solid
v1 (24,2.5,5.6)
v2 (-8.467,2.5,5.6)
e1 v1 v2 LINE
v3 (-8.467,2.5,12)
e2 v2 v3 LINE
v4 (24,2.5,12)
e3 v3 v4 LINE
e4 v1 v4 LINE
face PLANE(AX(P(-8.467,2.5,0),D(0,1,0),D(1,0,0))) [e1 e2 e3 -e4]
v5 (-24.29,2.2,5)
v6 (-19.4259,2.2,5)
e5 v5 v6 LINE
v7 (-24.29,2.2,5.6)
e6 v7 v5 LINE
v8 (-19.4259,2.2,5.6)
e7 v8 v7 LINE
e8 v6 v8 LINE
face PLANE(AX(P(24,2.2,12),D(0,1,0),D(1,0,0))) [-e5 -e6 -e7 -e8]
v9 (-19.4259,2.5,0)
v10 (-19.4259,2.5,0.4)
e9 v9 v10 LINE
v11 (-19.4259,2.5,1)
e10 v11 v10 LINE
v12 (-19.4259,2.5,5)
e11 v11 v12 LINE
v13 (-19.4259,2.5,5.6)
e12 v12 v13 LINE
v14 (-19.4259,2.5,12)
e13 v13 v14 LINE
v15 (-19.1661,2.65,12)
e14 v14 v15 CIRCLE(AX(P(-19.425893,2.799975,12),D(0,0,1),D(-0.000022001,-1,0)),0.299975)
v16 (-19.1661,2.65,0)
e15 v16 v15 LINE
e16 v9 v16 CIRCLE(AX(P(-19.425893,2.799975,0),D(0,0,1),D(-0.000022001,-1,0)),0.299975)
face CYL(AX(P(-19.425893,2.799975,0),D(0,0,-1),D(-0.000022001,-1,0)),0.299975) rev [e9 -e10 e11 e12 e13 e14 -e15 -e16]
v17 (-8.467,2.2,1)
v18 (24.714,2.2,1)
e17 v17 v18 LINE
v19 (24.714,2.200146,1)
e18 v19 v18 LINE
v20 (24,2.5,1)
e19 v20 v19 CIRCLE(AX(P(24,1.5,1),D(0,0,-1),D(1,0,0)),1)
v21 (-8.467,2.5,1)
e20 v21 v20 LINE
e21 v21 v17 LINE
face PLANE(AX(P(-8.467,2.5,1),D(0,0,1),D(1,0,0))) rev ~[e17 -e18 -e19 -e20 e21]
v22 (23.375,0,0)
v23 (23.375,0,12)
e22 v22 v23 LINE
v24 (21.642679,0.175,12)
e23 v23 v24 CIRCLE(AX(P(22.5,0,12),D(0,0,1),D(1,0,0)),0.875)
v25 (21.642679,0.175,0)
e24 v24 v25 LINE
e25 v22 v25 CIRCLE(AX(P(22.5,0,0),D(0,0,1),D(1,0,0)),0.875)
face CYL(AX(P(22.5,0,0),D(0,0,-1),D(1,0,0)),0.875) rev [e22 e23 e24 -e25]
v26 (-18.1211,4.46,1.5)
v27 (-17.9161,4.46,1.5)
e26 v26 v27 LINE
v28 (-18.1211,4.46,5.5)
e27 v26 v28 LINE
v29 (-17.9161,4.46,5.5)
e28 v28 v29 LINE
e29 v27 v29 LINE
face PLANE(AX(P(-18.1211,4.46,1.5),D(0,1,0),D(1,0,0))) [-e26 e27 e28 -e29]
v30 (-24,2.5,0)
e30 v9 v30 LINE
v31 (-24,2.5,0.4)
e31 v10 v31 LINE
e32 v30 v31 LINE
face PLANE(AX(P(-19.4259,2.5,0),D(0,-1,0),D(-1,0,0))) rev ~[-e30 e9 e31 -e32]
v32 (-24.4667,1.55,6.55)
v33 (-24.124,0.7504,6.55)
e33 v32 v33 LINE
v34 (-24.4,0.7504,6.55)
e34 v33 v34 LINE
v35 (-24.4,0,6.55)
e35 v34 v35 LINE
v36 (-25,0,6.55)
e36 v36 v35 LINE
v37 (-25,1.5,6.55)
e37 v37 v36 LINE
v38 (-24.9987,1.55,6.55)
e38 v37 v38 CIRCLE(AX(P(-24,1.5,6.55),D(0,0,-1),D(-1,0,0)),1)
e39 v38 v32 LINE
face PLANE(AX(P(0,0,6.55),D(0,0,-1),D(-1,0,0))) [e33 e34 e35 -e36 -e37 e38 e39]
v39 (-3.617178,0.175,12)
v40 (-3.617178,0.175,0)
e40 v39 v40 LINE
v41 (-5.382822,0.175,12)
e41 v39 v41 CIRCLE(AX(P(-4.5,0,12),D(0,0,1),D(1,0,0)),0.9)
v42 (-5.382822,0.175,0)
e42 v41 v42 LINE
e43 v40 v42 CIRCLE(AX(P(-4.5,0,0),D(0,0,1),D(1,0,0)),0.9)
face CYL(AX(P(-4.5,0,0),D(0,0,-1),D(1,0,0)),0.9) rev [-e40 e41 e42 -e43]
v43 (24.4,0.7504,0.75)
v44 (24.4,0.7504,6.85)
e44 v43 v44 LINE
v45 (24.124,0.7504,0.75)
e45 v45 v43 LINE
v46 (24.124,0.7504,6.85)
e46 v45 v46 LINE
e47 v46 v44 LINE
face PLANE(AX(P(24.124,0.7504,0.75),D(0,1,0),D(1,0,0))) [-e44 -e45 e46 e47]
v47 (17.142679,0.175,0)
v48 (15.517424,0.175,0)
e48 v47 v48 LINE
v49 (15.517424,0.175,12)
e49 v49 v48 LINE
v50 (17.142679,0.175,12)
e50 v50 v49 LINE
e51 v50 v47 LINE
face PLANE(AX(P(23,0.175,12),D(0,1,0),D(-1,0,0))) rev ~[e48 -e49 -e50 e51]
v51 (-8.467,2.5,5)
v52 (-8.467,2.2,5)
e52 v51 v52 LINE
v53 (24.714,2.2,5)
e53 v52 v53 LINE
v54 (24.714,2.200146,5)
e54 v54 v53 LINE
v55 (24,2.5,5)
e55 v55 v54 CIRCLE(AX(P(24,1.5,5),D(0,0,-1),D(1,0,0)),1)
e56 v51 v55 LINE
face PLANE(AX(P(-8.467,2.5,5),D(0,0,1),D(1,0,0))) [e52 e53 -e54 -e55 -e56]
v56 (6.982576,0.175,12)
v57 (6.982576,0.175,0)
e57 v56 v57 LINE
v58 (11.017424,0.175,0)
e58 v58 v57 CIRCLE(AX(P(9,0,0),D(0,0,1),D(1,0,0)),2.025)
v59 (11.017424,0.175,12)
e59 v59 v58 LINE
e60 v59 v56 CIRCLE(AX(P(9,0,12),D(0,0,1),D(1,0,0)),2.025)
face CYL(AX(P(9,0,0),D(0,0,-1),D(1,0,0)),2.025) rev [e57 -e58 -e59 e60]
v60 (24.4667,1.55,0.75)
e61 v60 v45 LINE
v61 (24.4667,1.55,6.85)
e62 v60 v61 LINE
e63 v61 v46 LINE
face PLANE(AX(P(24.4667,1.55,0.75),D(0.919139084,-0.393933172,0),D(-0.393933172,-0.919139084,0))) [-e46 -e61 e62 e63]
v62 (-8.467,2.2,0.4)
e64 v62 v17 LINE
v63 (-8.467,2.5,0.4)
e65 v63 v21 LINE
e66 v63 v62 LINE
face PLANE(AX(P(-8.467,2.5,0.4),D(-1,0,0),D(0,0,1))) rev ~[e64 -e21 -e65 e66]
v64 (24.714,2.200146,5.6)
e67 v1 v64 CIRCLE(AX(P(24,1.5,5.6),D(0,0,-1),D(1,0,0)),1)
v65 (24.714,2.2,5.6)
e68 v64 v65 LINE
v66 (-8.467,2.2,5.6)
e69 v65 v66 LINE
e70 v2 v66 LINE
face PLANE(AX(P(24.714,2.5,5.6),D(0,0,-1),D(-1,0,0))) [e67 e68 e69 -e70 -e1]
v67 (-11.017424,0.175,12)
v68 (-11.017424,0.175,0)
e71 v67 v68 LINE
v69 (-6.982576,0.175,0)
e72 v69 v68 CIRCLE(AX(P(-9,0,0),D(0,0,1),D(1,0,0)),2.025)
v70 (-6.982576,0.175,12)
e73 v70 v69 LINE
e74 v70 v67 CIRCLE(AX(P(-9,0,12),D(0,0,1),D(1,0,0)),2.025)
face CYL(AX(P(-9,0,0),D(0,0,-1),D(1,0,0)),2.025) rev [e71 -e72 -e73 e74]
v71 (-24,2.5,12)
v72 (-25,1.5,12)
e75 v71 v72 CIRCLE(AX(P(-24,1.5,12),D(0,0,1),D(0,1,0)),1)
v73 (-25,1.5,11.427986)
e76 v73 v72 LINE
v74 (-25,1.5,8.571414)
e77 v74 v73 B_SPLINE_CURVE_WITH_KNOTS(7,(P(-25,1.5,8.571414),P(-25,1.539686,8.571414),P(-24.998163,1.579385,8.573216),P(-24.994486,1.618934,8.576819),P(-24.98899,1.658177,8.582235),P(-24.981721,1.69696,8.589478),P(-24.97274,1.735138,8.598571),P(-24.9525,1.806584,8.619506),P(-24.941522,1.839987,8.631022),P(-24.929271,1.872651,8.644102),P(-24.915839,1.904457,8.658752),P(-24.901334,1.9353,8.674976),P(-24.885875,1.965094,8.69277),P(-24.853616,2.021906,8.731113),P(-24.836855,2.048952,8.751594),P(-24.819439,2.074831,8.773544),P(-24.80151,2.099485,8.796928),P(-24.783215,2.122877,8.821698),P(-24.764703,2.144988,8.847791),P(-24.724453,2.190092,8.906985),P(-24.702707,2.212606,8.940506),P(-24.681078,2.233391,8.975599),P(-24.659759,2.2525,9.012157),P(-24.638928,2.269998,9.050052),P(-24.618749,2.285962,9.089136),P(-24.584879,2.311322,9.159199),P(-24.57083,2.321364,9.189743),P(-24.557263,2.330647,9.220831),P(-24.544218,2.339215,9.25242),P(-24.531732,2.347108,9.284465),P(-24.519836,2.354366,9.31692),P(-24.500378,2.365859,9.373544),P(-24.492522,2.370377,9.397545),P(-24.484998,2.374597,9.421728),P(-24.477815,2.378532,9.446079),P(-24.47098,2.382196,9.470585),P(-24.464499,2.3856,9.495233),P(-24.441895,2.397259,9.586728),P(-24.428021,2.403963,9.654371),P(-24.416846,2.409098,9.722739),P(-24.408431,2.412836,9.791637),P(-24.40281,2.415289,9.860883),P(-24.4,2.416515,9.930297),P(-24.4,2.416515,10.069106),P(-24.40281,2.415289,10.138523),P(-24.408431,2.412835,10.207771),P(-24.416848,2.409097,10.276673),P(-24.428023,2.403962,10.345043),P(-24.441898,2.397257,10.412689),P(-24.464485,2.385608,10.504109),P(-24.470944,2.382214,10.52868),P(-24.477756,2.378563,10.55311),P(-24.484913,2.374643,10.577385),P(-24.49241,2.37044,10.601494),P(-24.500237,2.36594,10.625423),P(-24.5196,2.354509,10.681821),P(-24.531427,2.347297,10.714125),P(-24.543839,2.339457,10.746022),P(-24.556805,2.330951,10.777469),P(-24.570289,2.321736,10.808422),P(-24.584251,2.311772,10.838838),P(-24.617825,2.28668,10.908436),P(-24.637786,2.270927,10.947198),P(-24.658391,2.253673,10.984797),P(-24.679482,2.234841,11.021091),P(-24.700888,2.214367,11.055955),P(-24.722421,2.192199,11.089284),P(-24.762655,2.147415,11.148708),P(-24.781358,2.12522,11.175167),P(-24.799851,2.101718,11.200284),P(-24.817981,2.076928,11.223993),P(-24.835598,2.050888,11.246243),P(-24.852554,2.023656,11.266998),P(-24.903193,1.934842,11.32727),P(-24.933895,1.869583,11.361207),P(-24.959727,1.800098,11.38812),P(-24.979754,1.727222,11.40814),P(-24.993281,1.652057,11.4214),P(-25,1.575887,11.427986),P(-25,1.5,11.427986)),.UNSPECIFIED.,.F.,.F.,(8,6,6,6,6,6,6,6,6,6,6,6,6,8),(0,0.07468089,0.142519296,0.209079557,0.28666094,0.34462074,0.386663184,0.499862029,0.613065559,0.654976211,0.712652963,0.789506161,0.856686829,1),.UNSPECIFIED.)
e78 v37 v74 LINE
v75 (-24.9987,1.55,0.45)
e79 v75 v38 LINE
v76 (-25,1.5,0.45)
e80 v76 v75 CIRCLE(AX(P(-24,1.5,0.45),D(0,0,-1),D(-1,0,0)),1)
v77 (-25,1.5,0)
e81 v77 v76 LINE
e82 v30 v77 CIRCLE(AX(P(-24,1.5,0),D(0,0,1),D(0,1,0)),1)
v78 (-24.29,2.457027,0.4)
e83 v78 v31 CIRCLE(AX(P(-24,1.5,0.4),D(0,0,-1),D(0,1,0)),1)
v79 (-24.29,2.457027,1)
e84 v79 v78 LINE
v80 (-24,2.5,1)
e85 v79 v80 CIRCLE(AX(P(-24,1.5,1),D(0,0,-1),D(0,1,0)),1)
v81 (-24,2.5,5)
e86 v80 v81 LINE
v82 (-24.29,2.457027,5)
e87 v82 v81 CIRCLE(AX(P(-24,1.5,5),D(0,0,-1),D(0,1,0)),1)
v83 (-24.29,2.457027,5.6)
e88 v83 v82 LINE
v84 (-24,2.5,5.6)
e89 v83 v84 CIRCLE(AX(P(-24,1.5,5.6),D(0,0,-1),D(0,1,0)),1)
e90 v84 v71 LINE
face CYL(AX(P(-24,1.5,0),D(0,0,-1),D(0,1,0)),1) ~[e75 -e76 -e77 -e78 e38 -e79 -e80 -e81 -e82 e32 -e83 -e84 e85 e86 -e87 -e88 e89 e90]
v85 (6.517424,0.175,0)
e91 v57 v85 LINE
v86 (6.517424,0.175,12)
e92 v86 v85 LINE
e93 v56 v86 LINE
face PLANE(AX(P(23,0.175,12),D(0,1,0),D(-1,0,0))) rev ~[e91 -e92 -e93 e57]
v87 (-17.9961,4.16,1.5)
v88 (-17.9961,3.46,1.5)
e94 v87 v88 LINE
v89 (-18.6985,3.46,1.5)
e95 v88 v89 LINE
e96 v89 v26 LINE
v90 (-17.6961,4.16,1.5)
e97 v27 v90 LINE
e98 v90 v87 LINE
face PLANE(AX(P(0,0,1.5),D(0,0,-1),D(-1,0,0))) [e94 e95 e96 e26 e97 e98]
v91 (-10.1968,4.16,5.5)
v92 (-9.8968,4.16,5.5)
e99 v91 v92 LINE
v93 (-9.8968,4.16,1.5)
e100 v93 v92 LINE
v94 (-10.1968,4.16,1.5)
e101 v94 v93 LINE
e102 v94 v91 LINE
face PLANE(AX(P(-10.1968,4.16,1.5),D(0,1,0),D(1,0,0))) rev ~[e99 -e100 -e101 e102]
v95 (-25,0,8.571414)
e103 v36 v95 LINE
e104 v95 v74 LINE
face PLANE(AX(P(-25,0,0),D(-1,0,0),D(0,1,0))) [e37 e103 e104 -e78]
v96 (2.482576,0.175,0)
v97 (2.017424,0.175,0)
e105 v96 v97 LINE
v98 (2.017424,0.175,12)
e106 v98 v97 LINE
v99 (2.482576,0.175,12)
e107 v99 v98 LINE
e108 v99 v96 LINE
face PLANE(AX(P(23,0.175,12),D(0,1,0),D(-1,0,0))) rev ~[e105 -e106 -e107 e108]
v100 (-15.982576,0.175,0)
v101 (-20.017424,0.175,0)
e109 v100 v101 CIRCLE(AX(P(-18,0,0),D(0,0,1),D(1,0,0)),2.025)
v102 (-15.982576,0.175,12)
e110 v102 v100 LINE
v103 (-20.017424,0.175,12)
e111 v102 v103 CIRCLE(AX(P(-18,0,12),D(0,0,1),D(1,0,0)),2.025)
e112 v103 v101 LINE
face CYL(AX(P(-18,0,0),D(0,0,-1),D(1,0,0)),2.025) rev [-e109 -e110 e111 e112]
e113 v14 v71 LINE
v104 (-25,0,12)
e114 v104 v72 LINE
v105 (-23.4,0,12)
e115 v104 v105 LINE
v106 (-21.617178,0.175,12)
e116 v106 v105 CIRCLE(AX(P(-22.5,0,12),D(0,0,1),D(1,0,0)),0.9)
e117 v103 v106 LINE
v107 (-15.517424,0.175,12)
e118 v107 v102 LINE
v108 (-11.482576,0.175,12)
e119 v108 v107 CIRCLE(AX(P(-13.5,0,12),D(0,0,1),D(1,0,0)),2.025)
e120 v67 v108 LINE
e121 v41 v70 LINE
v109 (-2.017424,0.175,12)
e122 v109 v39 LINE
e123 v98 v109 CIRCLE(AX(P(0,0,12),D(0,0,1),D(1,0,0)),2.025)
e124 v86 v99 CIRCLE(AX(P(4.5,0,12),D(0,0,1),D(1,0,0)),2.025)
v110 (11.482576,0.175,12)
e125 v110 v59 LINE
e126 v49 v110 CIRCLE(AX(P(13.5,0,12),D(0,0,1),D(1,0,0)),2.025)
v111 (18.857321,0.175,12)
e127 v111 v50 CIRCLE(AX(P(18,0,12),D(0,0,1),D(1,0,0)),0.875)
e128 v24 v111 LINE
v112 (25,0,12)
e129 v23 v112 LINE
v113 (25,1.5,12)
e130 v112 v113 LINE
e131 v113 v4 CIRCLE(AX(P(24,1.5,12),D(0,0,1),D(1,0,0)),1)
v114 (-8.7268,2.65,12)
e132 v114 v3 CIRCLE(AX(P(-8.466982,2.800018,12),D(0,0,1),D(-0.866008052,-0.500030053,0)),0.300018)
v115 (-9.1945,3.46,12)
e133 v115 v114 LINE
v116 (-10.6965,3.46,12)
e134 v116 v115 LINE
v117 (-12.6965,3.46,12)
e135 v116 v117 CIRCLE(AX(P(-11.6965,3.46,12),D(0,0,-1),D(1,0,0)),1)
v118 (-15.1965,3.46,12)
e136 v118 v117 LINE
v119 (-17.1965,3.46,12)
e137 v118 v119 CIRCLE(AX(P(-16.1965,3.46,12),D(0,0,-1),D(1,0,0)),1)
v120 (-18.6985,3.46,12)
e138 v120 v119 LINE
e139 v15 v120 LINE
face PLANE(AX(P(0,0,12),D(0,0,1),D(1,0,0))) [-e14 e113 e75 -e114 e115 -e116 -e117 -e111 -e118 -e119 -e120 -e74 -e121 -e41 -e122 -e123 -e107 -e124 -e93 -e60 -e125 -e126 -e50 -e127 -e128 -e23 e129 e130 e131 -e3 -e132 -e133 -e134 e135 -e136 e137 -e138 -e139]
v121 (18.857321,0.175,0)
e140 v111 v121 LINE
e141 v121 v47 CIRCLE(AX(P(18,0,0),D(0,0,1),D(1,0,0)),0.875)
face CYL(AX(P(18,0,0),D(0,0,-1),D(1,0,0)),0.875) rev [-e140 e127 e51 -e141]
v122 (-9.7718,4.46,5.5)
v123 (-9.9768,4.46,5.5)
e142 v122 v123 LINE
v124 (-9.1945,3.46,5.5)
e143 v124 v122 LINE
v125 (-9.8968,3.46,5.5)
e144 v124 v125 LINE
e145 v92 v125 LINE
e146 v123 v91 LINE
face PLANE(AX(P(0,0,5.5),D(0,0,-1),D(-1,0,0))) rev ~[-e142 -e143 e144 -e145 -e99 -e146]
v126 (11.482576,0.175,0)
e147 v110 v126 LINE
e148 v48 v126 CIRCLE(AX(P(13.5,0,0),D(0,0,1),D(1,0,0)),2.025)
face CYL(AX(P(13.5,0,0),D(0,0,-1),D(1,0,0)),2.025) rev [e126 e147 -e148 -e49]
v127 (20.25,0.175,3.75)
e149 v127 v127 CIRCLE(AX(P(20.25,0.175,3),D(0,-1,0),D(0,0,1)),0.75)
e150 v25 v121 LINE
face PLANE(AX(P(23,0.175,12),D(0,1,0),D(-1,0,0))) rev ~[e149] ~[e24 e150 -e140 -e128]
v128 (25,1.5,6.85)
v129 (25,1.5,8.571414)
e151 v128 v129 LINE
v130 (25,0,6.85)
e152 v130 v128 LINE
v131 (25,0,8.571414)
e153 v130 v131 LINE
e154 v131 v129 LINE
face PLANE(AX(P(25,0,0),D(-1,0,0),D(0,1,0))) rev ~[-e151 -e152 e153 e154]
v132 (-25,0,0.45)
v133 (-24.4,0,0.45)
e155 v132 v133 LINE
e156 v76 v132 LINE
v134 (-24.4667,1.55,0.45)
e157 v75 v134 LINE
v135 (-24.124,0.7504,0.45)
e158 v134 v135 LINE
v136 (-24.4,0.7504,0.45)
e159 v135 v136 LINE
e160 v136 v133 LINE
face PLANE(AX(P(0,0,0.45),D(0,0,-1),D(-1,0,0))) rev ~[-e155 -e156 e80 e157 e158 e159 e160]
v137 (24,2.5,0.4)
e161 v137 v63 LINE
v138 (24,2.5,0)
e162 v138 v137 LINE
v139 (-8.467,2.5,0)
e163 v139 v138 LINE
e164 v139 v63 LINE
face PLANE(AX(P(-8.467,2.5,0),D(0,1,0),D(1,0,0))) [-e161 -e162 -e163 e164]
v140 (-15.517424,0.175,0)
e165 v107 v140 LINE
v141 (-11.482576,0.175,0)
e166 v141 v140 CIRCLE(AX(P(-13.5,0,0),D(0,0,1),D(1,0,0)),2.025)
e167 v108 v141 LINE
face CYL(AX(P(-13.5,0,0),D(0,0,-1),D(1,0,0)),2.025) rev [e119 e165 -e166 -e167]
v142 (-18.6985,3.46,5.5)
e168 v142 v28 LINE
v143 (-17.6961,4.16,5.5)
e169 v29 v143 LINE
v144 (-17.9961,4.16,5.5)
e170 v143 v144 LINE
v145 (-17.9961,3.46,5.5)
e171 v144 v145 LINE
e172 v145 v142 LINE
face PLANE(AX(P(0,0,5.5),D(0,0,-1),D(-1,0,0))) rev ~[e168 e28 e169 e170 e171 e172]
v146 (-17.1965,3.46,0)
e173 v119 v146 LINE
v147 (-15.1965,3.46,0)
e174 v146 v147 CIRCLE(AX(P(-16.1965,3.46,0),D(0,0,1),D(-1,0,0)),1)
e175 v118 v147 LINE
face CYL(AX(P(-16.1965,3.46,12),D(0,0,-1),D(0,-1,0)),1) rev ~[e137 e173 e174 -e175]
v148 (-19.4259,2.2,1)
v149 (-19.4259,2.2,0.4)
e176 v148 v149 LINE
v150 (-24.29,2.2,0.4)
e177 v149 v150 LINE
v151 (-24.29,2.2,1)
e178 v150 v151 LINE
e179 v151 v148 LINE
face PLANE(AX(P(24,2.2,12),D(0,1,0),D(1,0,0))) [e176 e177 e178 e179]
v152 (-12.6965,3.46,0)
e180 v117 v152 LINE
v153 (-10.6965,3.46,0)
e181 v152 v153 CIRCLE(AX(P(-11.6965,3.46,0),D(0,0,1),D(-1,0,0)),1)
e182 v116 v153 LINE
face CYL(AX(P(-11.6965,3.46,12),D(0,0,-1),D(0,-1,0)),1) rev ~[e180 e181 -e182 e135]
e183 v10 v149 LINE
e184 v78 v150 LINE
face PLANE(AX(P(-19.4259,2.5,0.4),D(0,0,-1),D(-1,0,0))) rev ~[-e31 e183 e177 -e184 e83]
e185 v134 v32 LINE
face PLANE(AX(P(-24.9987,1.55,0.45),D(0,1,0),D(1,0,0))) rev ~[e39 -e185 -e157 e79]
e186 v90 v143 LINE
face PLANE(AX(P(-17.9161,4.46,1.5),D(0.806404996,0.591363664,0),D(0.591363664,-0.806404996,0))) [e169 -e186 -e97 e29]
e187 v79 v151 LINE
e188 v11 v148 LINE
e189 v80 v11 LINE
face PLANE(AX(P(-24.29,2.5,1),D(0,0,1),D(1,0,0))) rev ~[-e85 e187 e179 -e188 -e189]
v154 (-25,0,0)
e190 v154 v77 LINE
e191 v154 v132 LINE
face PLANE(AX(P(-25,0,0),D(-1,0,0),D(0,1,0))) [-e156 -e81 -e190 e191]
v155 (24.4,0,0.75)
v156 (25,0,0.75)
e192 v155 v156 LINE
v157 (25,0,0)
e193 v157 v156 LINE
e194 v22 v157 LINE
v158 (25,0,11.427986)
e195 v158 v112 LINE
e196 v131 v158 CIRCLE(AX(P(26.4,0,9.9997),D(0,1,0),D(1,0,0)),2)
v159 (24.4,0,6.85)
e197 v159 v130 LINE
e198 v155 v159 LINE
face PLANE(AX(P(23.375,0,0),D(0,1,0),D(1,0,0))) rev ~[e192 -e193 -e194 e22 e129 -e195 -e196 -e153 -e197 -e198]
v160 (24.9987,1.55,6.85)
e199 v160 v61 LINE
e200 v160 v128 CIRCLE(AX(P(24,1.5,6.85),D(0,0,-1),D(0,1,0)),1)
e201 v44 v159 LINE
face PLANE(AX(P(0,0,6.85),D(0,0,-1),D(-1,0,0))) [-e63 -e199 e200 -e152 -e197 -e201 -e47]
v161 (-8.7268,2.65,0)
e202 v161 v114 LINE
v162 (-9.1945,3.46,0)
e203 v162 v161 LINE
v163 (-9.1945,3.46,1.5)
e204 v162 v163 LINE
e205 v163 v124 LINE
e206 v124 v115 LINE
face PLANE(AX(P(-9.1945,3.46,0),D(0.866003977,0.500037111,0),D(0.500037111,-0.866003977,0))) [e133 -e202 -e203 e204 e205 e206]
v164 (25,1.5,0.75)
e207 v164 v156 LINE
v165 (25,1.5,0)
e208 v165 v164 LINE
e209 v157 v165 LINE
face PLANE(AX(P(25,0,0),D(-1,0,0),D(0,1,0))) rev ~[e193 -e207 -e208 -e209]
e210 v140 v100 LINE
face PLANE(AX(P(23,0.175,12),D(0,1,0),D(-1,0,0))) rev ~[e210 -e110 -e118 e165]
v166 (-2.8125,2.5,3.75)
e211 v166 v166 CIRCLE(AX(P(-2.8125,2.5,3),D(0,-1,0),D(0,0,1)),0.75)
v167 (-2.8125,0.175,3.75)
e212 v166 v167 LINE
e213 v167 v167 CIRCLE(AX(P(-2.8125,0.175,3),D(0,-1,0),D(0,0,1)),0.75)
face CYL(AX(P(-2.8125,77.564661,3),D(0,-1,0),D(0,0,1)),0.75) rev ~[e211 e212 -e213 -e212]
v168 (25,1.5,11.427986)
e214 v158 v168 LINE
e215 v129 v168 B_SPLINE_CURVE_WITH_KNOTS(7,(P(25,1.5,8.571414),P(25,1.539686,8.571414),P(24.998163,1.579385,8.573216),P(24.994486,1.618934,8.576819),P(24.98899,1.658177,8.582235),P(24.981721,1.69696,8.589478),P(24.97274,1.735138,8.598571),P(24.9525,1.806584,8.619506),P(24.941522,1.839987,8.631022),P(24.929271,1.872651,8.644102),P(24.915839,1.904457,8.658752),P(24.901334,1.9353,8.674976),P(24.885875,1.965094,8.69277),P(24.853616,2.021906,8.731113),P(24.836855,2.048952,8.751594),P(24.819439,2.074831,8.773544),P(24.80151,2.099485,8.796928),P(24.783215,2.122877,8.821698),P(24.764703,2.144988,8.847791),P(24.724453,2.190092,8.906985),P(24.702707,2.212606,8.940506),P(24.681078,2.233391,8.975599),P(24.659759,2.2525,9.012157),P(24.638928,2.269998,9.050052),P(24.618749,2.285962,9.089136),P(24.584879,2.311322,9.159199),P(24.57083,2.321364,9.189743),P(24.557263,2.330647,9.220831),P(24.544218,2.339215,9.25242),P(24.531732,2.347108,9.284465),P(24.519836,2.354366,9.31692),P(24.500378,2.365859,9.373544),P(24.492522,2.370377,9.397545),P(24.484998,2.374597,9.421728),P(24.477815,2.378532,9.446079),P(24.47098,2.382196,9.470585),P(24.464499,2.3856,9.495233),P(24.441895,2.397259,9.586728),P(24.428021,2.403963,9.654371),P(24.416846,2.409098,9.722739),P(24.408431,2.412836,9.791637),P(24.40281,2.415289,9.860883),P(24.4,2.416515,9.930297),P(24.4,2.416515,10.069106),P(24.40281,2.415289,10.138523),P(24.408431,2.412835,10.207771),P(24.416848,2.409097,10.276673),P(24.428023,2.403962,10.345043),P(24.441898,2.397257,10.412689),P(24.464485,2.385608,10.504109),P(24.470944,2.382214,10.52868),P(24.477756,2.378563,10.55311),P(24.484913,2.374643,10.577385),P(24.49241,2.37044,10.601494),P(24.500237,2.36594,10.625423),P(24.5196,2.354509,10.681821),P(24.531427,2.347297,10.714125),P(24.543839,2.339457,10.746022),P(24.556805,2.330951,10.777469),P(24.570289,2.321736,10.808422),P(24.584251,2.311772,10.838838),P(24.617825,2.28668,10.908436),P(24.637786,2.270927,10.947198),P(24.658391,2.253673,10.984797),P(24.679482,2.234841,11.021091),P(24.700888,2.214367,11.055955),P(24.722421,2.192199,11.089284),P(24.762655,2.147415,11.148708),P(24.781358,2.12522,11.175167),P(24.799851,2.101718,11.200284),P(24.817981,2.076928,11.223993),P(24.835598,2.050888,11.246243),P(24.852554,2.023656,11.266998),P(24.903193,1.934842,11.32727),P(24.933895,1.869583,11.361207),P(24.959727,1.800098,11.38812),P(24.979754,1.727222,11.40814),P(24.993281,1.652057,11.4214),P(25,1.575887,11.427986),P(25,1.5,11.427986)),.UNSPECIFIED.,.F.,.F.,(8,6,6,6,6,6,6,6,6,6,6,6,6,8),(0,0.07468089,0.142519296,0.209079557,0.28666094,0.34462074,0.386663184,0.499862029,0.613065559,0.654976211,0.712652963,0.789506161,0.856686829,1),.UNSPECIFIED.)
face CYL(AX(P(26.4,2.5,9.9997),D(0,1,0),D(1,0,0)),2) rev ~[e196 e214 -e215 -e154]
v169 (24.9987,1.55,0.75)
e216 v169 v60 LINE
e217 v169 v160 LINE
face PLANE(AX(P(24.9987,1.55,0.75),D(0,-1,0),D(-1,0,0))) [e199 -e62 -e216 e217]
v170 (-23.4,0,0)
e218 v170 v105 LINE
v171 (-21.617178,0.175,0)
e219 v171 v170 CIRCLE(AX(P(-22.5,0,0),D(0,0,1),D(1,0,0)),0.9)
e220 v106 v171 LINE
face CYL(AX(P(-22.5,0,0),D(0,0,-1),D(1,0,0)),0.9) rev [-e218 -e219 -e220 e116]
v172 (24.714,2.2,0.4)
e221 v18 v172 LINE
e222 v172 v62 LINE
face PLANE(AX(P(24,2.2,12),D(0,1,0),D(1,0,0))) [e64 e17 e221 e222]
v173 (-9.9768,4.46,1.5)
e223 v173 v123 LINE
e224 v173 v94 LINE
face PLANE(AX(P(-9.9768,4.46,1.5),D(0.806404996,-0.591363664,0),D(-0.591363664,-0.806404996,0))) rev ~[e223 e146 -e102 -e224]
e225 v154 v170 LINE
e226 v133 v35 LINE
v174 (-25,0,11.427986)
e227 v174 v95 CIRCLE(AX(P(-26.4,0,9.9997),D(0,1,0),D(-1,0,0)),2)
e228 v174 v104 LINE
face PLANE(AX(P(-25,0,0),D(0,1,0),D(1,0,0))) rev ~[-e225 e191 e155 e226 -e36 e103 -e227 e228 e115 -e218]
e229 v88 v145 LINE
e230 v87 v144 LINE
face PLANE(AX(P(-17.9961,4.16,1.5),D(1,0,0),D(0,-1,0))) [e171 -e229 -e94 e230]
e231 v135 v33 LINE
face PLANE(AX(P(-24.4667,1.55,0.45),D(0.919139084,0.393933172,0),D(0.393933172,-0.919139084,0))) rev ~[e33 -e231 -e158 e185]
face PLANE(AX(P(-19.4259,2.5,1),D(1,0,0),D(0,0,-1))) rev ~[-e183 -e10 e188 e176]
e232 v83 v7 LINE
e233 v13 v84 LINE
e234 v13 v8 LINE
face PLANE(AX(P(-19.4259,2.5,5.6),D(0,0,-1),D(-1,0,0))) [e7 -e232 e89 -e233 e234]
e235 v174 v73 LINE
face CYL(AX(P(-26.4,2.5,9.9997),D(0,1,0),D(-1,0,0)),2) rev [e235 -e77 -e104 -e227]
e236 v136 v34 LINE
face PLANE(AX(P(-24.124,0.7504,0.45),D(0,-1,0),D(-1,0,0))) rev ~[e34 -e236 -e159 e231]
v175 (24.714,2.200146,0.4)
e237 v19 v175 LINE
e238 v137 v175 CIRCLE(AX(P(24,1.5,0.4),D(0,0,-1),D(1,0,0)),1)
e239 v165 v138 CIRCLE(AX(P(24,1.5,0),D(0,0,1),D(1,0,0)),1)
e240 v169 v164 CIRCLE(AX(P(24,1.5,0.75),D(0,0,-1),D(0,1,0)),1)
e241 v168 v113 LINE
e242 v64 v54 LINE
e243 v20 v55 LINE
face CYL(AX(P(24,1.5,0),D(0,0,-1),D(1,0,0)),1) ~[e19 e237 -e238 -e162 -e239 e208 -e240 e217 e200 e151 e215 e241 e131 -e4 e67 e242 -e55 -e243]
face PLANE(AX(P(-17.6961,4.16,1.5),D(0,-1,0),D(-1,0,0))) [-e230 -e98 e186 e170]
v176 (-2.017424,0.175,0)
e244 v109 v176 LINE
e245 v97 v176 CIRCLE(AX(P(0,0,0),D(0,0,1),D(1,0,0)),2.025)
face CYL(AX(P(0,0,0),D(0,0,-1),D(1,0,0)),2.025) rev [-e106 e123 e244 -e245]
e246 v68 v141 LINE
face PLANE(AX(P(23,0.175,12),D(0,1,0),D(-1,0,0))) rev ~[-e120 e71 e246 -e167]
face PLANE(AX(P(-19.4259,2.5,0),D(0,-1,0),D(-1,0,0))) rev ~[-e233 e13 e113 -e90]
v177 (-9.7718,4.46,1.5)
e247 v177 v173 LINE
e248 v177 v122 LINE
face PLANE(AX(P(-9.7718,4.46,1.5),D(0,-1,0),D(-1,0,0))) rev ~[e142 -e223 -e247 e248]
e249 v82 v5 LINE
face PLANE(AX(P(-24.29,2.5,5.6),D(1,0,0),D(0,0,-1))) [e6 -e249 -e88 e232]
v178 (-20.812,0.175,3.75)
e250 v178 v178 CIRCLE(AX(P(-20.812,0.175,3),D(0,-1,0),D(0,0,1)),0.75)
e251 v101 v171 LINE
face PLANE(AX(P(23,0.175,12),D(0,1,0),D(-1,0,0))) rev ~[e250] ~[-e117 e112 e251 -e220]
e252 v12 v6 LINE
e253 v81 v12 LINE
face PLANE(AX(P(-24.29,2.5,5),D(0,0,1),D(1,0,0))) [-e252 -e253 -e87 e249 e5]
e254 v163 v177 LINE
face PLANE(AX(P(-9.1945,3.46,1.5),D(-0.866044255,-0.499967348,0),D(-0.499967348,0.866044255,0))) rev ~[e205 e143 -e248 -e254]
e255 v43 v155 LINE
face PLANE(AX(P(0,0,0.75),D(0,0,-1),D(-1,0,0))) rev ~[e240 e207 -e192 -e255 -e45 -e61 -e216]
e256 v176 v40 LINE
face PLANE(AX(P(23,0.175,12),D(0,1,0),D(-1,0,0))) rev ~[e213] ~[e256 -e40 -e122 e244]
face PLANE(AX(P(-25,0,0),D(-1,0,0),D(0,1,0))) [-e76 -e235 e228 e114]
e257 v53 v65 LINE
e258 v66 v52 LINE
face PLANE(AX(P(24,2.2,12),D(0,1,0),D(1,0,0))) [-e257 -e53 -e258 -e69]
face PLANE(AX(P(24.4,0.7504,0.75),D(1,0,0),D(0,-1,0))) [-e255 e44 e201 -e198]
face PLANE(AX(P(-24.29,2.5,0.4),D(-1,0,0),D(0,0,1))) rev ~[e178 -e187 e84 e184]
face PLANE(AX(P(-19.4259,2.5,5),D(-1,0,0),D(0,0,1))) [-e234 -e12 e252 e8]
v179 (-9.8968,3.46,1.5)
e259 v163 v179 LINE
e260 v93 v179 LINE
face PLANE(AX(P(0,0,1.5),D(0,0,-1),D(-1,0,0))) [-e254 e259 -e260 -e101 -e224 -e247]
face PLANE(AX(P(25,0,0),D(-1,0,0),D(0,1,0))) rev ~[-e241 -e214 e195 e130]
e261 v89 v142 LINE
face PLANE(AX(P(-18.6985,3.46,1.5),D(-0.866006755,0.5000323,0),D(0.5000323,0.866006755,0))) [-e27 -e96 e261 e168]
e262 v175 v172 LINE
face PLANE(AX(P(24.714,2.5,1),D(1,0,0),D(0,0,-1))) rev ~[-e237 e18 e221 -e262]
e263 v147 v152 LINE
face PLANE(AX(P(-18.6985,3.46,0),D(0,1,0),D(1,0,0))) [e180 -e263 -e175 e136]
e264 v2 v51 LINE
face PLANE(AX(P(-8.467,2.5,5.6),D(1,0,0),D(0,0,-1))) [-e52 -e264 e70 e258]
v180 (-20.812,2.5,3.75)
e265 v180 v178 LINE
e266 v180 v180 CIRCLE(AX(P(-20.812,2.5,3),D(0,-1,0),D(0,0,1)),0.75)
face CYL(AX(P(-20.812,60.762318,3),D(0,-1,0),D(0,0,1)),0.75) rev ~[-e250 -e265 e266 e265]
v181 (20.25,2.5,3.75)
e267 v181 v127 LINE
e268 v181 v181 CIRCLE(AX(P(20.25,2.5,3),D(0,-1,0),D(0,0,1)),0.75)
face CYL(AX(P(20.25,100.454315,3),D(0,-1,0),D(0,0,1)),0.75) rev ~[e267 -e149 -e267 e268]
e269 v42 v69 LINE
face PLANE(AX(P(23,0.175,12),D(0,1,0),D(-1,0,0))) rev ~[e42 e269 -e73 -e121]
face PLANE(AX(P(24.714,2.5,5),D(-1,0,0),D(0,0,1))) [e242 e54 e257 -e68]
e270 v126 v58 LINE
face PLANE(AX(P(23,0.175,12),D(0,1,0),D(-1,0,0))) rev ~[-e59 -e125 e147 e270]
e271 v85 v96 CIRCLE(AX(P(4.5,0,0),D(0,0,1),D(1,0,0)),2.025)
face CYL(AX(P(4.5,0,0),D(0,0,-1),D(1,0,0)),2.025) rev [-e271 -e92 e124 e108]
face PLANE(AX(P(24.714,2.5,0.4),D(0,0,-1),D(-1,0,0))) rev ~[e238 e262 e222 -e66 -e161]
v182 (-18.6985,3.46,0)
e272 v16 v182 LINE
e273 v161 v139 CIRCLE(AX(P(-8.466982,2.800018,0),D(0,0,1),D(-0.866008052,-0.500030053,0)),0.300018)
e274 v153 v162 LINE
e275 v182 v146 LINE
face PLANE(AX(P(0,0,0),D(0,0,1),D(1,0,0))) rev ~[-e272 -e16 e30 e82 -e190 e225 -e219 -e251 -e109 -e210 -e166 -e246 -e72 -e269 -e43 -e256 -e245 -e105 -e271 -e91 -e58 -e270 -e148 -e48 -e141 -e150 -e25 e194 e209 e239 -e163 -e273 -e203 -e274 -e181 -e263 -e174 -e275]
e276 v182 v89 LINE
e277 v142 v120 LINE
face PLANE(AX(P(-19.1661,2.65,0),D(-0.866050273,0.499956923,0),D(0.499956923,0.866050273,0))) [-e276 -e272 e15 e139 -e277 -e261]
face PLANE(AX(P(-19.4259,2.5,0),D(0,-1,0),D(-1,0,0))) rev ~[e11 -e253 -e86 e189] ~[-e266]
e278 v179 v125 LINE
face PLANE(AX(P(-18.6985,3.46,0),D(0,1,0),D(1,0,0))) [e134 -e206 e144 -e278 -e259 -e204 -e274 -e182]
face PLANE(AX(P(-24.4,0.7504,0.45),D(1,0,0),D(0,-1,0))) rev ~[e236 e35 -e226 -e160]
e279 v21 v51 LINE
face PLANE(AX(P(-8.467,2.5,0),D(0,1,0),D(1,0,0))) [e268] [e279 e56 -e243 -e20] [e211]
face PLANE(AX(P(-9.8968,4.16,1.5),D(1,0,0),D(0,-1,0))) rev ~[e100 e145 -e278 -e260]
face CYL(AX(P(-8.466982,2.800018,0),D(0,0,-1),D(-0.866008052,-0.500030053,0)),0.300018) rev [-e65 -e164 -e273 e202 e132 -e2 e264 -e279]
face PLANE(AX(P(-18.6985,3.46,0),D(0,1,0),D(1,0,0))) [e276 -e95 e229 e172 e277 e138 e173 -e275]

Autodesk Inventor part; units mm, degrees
sketch "Sketch1" plane through (0, 0, 0) normal (0, 0, 1) x (1, 0, 0)
  arc A0 (-21.6, 0) -> (-23.4, 0) centre (-22.5, 0) ccw
  arc A1 (-15.975, 0) -> (-20.025, 0) centre (-18, 0) ccw
  arc A2 (-11.475, 0) -> (-15.525, 0) centre (-13.5, 0) ccw
  arc A3 (-6.975, 0) -> (-11.025, 0) centre (-9, 0) ccw
  arc A4 (-3.6, 0) -> (-5.4, 0) centre (-4.5, 0) ccw
  arc A5 (2.025, 0) -> (-2.025, 0) centre (0, 0) ccw
  arc A6 (6.525, 0) -> (2.475, 0) centre (4.5, 0) ccw
  arc A7 (11.025, 0) -> (6.975, 0) centre (9, 0) ccw
  arc A8 (15.525, 0) -> (11.475, 0) centre (13.5, 0) ccw
  arc A9 (18.875, 0) -> (17.125, 0) centre (18, 0) ccw
  arc A10 (23.375, 0) -> (21.625, 0) centre (22.5, 0) ccw
  line L0 (-25, 0) -> (-25, 1.5)
  line L1 (-25, 0) -> (25, 0)
  line L2 (25, 0) -> (25, 1.5)
  arc A11 (25, 1.5) -> (24, 2.5) centre (24, 1.5) ccw
  arc A12 (-24, 2.5) -> (-25, 1.5) centre (-24, 1.5) ccw
  line L3 (-8.467, 2.5) -> (24, 2.5)
  line L4 (-19.1661, 2.65) -> (-18.6985, 3.46)
  line L5 (-18.6985, 3.46) -> (-9.1945, 3.46)
  line L6 (-9.1945, 3.46) -> (-8.7268, 2.65)
  line L7 (-9.1945, 3.46) -> (-8.2592, 3.46) construction
  arc A13 (-8.7268, 2.65) -> (-8.467, 2.5) centre (-8.467, 2.8) ccw
  line L8 (-19.4259, 2.5) -> (-24, 2.5)
  arc A14 (-19.4259, 2.5) -> (-19.1661, 2.65) centre (-19.4259, 2.8) ccw
  line L9 (0, 0) -> (0, 12.7088) construction
  point P0 (-19.2527, 2.5)
  point P1 (-8.6402, 2.5)
  dimension "d1" = 1.8
  dimension "d2" = 4.5
  dimension "d3" = 4.5
  dimension "d4" = 4.5
  dimension "d5" = 4.5
  dimension "d6" = 4.5
  dimension "d7" = 4.5
  dimension "d8" = 4.5
  dimension "d9" = 4.5
  dimension "d10" = 4.5
  dimension "d11" = 4.5
  dimension "d12" = 4.05
  dimension "d13" = 4.05
  dimension "d14" = 4.05
  dimension "d15" = 1.8
  dimension "d16" = 4.05
  dimension "d17" = 4.05
  dimension "d18" = 4.05
  dimension "d19" = 4.05
  dimension "d20" = 1.75
  dimension "d21" = 1.75
  dimension "d22" = 2.5
  dimension "d23" = 50
  dimension "d24" = 1.5
  dimension "d25" = 1.5
  dimension "d26" = 1
  dimension "d27" = 1
  dimension "d29" = 120
  dimension "d32" = 9.504
  dimension "d33" = 60
  dimension "d67" = 0.96
  dimension "d68" = 0.3
  dimension "d69" = 0.3
  dimension "d70" = 33.467
  dimension "d71" = 5.5741
extrude "Extrusion1" add sketch "Sketch1" along normal blind 12 contours A0 L1 L0 A12 L8 A14 L4 L5 L6 A13 L3 A11 L2 A10 A9 A8 A7 A6 A5 A4 A3 A2 A1
sketch "Sketch2" plane through (0, 0, 12) normal (0, 0, 1) x (1, 0, 0)
  line L0 (-9.1945, 3.46) -> (-18.6985, 3.46) projected
  point P0 (0, 0)
  point P1 (-16.1965, 3.46)
  point P2 (-11.6965, 3.46)
  dimension "d39" = 4.5
  dimension "d40" = 2.502
hole "Hole1" at (-16.1965, 3.46, 12) at (-11.6965, 3.46, 12) direction (0, 0, -1) diameter 2 end through all
sketch "Sketch3" plane through (24, 2.5, 12) normal (0, 1, 0) x (1, 0, 0)
  line L0 (0.714, 6.4) -> (-32.467, 6.4)
  line L1 (-32.467, 6.4) -> (-32.467, 7)
  line L2 (-32.467, 7) -> (0.714, 7)
  line L3 (0.714, 7) -> (0.714, 6.4)
  line L4 (-32.467, 11) -> (0.714, 11)
  line L5 (0.714, 11) -> (0.714, 11.6)
  line L6 (0.714, 11.6) -> (-32.467, 11.6)
  line L7 (-32.467, 11.6) -> (-32.467, 11)
  line L8 (1, 12) -> (1, 0) projected
  line L9 (0, 12) -> (-32.467, 12) projected
  line L10 (-43.4259, 6.4) -> (-48.29, 6.4)
  line L11 (-48.29, 6.4) -> (-48.29, 7)
  line L12 (-48.29, 7) -> (-43.4259, 7)
  line L13 (-43.4259, 7) -> (-43.4259, 6.4)
  line L14 (-43.4259, 11.6) -> (-48.29, 11.6)
  line L15 (-48.29, 11.6) -> (-48.29, 11)
  line L16 (-48.29, 11) -> (-43.4259, 11)
  line L17 (-43.4259, 11) -> (-43.4259, 11.6)
  line L18 (-49, 12) -> (-49, 0) projected
  point P0 (-24, 12)
  point P1 (-32.5535, 12.5)
  point P2 (-32.467, 12)
  point P3 (-43.4259, 12)
  dimension "d48" = 0.286
  dimension "d49" = 0.286
  dimension "d50" = 0.6
  dimension "d51" = 0.6
  dimension "d57" = 0.4
  dimension "d58" = 4
  dimension "d79" = 0.71
extrude "Extrusion2" cut sketch "Sketch3" against normal blind 0.3
ref_plane "Work Plane1" through (-2.9282, 3.7996, 12.5) normal (0, 1, 0) x (1, 0, 0)
sketch "Sketch4" plane through (-2.9282, 2.5, 12.5) normal (0, 1, 0) x (1, 0, 0)
  line L0 (27.9282, 12.5495) -> (27.9282, 3.2148)
  line L1 (26.9282, 11.5) -> (-5.5388, 11.5) projected
  line L2 (27.9282, 12.5) -> (27.9282, 0.5) projected
  line L3 (-22.0718, 12.5) -> (-22.0718, 0.5) projected
  point P0 (2.9282, 12.5)
  point P1 (-17.8838, 9.5)
  point P2 (0.1157, 9.5)
  point P3 (23.1782, 9.5)
  dimension "d54" = 4.75
  dimension "d72" = 2
  dimension "d121" = 4.188
  dimension "d122" = 23.0625
hole "Hole2" at (-20.812, 2.5, 3) at (-2.8125, 2.5, 3) at (20.25, 2.5, 3) direction (0, -1, 0) diameter 1.5 end through all both
sketch "Sketch5" plane through (-8.467, 2.5, 12) normal (0, 1, 0) x (1, 0, 0)
  circle A0 centre (34.867, 2.0003) radius 2
  line L0 (32.467, 0) -> (33.467, 0) projected
  line L1 (33.467, 12) -> (33.467, 0) projected
  line L2 (33.467, 0) -> (33.467, 0.572)
  point P0 (8.467, 12)
  dimension "d73" = 4
  dimension "d75" = 1.4
  dimension "d76" = 0.572
extrude "Extrusion3" cut sketch "Sketch5" against normal blind 7.05
mirror "Mirror1" about plane through (0, 0, 0) normal (1, 0, 0) of "Extrusion3"
ref_plane "Work Plane2" through (0, 0, 1.5) normal (0, 0, -1) x (-1, 0, 0)
sketch "Sketch6" plane through (0, 0, 1.5) normal (0, 0, -1) x (-1, 0, 0)
  line L0 (8.7268, 2.65) -> (9.1945, 3.46) projected
  line L1 (9.1945, 3.46) -> (9.7718, 4.46)
  line L2 (9.1945, 3.46) -> (10.6965, 3.46) projected
  line L3 (9.7718, 4.46) -> (9.9768, 4.46)
  line L4 (9.9768, 4.46) -> (10.1968, 4.16)
  line L5 (10.1968, 4.16) -> (9.8968, 4.16)
  line L6 (9.8968, 4.16) -> (9.8968, 3.46)
  line L7 (9.1945, 3.46) -> (10.6965, 3.46) projected
  line L8 (9.8968, 3.46) -> (9.1945, 3.46)
  line L9 (12.6965, 3.46) -> (15.1965, 3.46) projected
  line L10 (13.9465, 3.46) -> (13.9465, 5.3261) construction
  line L11 (17.1965, 3.46) -> (18.6985, 3.46) projected
  line L12 (18.6985, 3.46) -> (18.1211, 4.46)
  line L13 (18.6985, 3.46) -> (19.8532, 3.46) construction
  line L14 (18.1211, 4.46) -> (17.9161, 4.46)
  line L15 (17.9161, 4.46) -> (17.6961, 4.16)
  line L16 (17.6961, 4.16) -> (17.9961, 4.16)
  line L17 (17.9961, 4.16) -> (17.9961, 3.46)
  line L18 (17.9961, 3.46) -> (18.6985, 3.46)
  point P0 (0, 0)
  dimension "d81" = 1
  dimension "d82" = 0.205
  dimension "d83" = 126.25
  dimension "d84" = 0.3
  dimension "d85" = 0.3
  dimension "d94" = 120
  dimension "d95" = 1
  dimension "d96" = 0.205
  dimension "d97" = 53.75
  dimension "d98" = 53.75
  dimension "d99" = 0.3
  dimension "d100" = 0.3
extrude "Extrusion4" add sketch "Sketch6" against normal blind 4
ref_plane "Work Plane4" through (0, 0, 0.45) normal (0, 0, -1) x (-1, 0, 0)
sketch "Sketch7" plane through (0, 0, 0.45) normal (0, 0, -1) x (-1, 0, 0)
  line L0 (24.9987, 1.55) -> (24.4667, 1.55)
  line L1 (25, 0) -> (20.025, 0) projected
  arc A0 (15.1965, 3.46) -> (17.1965, 3.46) centre (16.1965, 3.46) ccw projected
  line L2 (12.6965, 3.46) -> (15.1965, 3.46) projected
  arc A1 (10.6965, 3.46) -> (12.6965, 3.46) centre (11.6965, 3.46) ccw projected
  line L3 (9.1945, 3.46) -> (10.6965, 3.46) projected
  line L4 (8.7268, 2.65) -> (9.1945, 3.46) projected
  arc A2 (8.467, 2.5) -> (8.7268, 2.65) centre (8.467, 2.8) ccw projected
  line L5 (-24, 2.5) -> (8.467, 2.5) projected
  arc A3 (-24, 2.5) -> (-25, 1.5) centre (-24, 1.5) ccw projected
  line L6 (-25, 0) -> (-25, 1.5) projected
  line L7 (-23.375, 0) -> (-25, 0) projected
  arc A4 (-21.625, 0) -> (-23.375, 0) centre (-22.5, 0) ccw projected
  line L8 (-18.875, 0) -> (-21.625, 0) projected
  arc A5 (-17.125, 0) -> (-18.875, 0) centre (-18, 0) ccw projected
  line L9 (-15.525, 0) -> (-17.125, 0) projected
  arc A6 (-11.475, 0) -> (-15.525, 0) centre (-13.5, 0) ccw projected
  line L10 (-11.025, 0) -> (-11.475, 0) projected
  arc A7 (-6.975, 0) -> (-11.025, 0) centre (-9, 0) ccw projected
  line L11 (-6.525, 0) -> (-6.975, 0) projected
  arc A8 (-2.475, 0) -> (-6.525, 0) centre (-4.5, 0) ccw projected
  line L12 (-2.025, 0) -> (-2.475, 0) projected
  arc A9 (2.025, 0) -> (-2.025, 0) centre (0, 0) ccw projected
  line L13 (3.6, 0) -> (2.025, 0) projected
  arc A10 (5.4, 0) -> (3.6, 0) centre (4.5, 0) ccw projected
  line L14 (6.975, 0) -> (5.4, 0) projected
  arc A11 (11.025, 0) -> (6.975, 0) centre (9, 0) ccw projected
  line L15 (11.475, 0) -> (11.025, 0) projected
  arc A12 (15.525, 0) -> (11.475, 0) centre (13.5, 0) ccw projected
  line L16 (15.975, 0) -> (15.525, 0) projected
  arc A13 (20.025, 0) -> (15.975, 0) centre (18, 0) ccw projected
  line L17 (25, 0) -> (23.4, 0) projected
  line L18 (25, 1.5) -> (25, 0) projected
  arc A14 (25, 1.5) -> (24, 2.5) centre (24, 1.5) ccw projected
  line L19 (19.4259, 2.5) -> (24, 2.5) projected
  arc A15 (19.1661, 2.65) -> (19.4259, 2.5) centre (19.4259, 2.8) ccw projected
  line L20 (18.6985, 3.46) -> (19.1661, 2.65) projected
  line L21 (17.1965, 3.46) -> (18.6985, 3.46) projected
  line L22 (24.4667, 1.55) -> (24.124, 0.7504)
  line L23 (24.4667, 1.55) -> (25.3367, 1.55) construction
  line L24 (24.124, 0.7504) -> (24.4, 0.7504)
  line L25 (24.4, 0.7504) -> (24.4, 0)
  line L26 (24.4, 0) -> (25, 0)
  arc A16 (25, 1.5) -> (24, 2.5) centre (24, 1.5) ccw projected
  line L27 (25, 0) -> (25, 1.5)
  line L28 (21.6, 0) -> (20.025, 0) projected
  arc A17 (23.4, 0) -> (21.6, 0) centre (22.5, 0) ccw projected
  point P0 (0, 0)
  dimension "d102" = 1.55
  dimension "d103" = 0.532
  dimension "d104" = 113.2
  dimension "d105" = 0.87
  dimension "d106" = 0.276
extrude "Extrusion5" cut sketch "Sketch7" against normal blind 6.1 contours A14 L18 L1 L25 L24 L22 L0
sketch "Sketch8" plane through (0, 0, 12) normal (0, 0, 1) x (1, 0, 0)
  line L0 (-22, 0) -> (23, 0)
  line L1 (23, 0) -> (23, 0.175)
  line L2 (23, 0.175) -> (-22, 0.175)
  line L3 (-22, 0.175) -> (-22, 0)
  line L4 (25, 0) -> (25, 1.5) projected
  point P0 (0, 0)
  point P1 (21.625, 0)
  dimension "d109" = 0.175
  dimension "d110" = 45
  dimension "d111" = 2
extrude "Extrusion6" cut sketch "Sketch8" against normal through all
ref_plane "Work Plane5" through (0, 0, 0.75) normal (0, 0, -1) x (-1, 0, 0)
sketch "Sketch9" plane through (0, 0, 0.75) normal (0, 0, -1) x (-1, 0, 0)
  line L0 (24.9987, 1.55) -> (24.4667, 1.55)
  line L1 (25, 0) -> (24.25, 0)
  line L2 (25, 1.5) -> (25, 0)
  line L3 (24.4667, 1.55) -> (24.124, 0.7504)
  line L4 (24.4667, 1.55) -> (25.3367, 1.55) construction
  line L5 (24.124, 0.7504) -> (24.4, 0.7504)
  line L6 (24.4, 0.7504) -> (24.4, 0)
  line L7 (24.4, 0) -> (25, 0)
  line L8 (25, 0) -> (25, 1.5)
  line L9 (0, 0) -> (0, 5.6827) construction
  line L10 (-24.9987, 1.55) -> (-24.4667, 1.55)
  line L11 (-24.4, 0.7504) -> (-24.4, 0)
  line L12 (-25, 0.7504) -> (-25, 0)
  line L13 (-24.4, 0) -> (-25, 0)
  line L14 (-25, 0) -> (-25, 1.5)
  line L15 (-24.4667, 1.55) -> (-25.3367, 1.55) construction
  line L16 (-25, 0) -> (-24.25, 0)
  line L17 (-24.124, 0.7504) -> (-24.4, 0.7504)
  line L18 (-24.4667, 1.55) -> (-24.124, 0.7504)
  arc A0 (-24, 2.5) -> (-25, 1.5) centre (-24, 1.5) ccw projected
  arc A1 (-24.9987, 1.55) -> (-25, 1.5) centre (-24, 1.5) ccw
  point P0 (24.25, 0)
  point P1 (24, 1.5)
  point P2 (24, 1.5)
  point P3 (-24.25, 0)
  point P4 (-24, 1.5)
  point P5 (-24, 1.5)
  dimension "d115" = 0.532
  dimension "d116" = 113.2
  dimension "d117" = 0.87
  dimension "d118" = 0.276
extrude "Extrusion7" cut sketch "Sketch9" against normal blind 6.1
properties part number "3d_LM - Pinza 2" material "PA12 SLS 3D Print"
